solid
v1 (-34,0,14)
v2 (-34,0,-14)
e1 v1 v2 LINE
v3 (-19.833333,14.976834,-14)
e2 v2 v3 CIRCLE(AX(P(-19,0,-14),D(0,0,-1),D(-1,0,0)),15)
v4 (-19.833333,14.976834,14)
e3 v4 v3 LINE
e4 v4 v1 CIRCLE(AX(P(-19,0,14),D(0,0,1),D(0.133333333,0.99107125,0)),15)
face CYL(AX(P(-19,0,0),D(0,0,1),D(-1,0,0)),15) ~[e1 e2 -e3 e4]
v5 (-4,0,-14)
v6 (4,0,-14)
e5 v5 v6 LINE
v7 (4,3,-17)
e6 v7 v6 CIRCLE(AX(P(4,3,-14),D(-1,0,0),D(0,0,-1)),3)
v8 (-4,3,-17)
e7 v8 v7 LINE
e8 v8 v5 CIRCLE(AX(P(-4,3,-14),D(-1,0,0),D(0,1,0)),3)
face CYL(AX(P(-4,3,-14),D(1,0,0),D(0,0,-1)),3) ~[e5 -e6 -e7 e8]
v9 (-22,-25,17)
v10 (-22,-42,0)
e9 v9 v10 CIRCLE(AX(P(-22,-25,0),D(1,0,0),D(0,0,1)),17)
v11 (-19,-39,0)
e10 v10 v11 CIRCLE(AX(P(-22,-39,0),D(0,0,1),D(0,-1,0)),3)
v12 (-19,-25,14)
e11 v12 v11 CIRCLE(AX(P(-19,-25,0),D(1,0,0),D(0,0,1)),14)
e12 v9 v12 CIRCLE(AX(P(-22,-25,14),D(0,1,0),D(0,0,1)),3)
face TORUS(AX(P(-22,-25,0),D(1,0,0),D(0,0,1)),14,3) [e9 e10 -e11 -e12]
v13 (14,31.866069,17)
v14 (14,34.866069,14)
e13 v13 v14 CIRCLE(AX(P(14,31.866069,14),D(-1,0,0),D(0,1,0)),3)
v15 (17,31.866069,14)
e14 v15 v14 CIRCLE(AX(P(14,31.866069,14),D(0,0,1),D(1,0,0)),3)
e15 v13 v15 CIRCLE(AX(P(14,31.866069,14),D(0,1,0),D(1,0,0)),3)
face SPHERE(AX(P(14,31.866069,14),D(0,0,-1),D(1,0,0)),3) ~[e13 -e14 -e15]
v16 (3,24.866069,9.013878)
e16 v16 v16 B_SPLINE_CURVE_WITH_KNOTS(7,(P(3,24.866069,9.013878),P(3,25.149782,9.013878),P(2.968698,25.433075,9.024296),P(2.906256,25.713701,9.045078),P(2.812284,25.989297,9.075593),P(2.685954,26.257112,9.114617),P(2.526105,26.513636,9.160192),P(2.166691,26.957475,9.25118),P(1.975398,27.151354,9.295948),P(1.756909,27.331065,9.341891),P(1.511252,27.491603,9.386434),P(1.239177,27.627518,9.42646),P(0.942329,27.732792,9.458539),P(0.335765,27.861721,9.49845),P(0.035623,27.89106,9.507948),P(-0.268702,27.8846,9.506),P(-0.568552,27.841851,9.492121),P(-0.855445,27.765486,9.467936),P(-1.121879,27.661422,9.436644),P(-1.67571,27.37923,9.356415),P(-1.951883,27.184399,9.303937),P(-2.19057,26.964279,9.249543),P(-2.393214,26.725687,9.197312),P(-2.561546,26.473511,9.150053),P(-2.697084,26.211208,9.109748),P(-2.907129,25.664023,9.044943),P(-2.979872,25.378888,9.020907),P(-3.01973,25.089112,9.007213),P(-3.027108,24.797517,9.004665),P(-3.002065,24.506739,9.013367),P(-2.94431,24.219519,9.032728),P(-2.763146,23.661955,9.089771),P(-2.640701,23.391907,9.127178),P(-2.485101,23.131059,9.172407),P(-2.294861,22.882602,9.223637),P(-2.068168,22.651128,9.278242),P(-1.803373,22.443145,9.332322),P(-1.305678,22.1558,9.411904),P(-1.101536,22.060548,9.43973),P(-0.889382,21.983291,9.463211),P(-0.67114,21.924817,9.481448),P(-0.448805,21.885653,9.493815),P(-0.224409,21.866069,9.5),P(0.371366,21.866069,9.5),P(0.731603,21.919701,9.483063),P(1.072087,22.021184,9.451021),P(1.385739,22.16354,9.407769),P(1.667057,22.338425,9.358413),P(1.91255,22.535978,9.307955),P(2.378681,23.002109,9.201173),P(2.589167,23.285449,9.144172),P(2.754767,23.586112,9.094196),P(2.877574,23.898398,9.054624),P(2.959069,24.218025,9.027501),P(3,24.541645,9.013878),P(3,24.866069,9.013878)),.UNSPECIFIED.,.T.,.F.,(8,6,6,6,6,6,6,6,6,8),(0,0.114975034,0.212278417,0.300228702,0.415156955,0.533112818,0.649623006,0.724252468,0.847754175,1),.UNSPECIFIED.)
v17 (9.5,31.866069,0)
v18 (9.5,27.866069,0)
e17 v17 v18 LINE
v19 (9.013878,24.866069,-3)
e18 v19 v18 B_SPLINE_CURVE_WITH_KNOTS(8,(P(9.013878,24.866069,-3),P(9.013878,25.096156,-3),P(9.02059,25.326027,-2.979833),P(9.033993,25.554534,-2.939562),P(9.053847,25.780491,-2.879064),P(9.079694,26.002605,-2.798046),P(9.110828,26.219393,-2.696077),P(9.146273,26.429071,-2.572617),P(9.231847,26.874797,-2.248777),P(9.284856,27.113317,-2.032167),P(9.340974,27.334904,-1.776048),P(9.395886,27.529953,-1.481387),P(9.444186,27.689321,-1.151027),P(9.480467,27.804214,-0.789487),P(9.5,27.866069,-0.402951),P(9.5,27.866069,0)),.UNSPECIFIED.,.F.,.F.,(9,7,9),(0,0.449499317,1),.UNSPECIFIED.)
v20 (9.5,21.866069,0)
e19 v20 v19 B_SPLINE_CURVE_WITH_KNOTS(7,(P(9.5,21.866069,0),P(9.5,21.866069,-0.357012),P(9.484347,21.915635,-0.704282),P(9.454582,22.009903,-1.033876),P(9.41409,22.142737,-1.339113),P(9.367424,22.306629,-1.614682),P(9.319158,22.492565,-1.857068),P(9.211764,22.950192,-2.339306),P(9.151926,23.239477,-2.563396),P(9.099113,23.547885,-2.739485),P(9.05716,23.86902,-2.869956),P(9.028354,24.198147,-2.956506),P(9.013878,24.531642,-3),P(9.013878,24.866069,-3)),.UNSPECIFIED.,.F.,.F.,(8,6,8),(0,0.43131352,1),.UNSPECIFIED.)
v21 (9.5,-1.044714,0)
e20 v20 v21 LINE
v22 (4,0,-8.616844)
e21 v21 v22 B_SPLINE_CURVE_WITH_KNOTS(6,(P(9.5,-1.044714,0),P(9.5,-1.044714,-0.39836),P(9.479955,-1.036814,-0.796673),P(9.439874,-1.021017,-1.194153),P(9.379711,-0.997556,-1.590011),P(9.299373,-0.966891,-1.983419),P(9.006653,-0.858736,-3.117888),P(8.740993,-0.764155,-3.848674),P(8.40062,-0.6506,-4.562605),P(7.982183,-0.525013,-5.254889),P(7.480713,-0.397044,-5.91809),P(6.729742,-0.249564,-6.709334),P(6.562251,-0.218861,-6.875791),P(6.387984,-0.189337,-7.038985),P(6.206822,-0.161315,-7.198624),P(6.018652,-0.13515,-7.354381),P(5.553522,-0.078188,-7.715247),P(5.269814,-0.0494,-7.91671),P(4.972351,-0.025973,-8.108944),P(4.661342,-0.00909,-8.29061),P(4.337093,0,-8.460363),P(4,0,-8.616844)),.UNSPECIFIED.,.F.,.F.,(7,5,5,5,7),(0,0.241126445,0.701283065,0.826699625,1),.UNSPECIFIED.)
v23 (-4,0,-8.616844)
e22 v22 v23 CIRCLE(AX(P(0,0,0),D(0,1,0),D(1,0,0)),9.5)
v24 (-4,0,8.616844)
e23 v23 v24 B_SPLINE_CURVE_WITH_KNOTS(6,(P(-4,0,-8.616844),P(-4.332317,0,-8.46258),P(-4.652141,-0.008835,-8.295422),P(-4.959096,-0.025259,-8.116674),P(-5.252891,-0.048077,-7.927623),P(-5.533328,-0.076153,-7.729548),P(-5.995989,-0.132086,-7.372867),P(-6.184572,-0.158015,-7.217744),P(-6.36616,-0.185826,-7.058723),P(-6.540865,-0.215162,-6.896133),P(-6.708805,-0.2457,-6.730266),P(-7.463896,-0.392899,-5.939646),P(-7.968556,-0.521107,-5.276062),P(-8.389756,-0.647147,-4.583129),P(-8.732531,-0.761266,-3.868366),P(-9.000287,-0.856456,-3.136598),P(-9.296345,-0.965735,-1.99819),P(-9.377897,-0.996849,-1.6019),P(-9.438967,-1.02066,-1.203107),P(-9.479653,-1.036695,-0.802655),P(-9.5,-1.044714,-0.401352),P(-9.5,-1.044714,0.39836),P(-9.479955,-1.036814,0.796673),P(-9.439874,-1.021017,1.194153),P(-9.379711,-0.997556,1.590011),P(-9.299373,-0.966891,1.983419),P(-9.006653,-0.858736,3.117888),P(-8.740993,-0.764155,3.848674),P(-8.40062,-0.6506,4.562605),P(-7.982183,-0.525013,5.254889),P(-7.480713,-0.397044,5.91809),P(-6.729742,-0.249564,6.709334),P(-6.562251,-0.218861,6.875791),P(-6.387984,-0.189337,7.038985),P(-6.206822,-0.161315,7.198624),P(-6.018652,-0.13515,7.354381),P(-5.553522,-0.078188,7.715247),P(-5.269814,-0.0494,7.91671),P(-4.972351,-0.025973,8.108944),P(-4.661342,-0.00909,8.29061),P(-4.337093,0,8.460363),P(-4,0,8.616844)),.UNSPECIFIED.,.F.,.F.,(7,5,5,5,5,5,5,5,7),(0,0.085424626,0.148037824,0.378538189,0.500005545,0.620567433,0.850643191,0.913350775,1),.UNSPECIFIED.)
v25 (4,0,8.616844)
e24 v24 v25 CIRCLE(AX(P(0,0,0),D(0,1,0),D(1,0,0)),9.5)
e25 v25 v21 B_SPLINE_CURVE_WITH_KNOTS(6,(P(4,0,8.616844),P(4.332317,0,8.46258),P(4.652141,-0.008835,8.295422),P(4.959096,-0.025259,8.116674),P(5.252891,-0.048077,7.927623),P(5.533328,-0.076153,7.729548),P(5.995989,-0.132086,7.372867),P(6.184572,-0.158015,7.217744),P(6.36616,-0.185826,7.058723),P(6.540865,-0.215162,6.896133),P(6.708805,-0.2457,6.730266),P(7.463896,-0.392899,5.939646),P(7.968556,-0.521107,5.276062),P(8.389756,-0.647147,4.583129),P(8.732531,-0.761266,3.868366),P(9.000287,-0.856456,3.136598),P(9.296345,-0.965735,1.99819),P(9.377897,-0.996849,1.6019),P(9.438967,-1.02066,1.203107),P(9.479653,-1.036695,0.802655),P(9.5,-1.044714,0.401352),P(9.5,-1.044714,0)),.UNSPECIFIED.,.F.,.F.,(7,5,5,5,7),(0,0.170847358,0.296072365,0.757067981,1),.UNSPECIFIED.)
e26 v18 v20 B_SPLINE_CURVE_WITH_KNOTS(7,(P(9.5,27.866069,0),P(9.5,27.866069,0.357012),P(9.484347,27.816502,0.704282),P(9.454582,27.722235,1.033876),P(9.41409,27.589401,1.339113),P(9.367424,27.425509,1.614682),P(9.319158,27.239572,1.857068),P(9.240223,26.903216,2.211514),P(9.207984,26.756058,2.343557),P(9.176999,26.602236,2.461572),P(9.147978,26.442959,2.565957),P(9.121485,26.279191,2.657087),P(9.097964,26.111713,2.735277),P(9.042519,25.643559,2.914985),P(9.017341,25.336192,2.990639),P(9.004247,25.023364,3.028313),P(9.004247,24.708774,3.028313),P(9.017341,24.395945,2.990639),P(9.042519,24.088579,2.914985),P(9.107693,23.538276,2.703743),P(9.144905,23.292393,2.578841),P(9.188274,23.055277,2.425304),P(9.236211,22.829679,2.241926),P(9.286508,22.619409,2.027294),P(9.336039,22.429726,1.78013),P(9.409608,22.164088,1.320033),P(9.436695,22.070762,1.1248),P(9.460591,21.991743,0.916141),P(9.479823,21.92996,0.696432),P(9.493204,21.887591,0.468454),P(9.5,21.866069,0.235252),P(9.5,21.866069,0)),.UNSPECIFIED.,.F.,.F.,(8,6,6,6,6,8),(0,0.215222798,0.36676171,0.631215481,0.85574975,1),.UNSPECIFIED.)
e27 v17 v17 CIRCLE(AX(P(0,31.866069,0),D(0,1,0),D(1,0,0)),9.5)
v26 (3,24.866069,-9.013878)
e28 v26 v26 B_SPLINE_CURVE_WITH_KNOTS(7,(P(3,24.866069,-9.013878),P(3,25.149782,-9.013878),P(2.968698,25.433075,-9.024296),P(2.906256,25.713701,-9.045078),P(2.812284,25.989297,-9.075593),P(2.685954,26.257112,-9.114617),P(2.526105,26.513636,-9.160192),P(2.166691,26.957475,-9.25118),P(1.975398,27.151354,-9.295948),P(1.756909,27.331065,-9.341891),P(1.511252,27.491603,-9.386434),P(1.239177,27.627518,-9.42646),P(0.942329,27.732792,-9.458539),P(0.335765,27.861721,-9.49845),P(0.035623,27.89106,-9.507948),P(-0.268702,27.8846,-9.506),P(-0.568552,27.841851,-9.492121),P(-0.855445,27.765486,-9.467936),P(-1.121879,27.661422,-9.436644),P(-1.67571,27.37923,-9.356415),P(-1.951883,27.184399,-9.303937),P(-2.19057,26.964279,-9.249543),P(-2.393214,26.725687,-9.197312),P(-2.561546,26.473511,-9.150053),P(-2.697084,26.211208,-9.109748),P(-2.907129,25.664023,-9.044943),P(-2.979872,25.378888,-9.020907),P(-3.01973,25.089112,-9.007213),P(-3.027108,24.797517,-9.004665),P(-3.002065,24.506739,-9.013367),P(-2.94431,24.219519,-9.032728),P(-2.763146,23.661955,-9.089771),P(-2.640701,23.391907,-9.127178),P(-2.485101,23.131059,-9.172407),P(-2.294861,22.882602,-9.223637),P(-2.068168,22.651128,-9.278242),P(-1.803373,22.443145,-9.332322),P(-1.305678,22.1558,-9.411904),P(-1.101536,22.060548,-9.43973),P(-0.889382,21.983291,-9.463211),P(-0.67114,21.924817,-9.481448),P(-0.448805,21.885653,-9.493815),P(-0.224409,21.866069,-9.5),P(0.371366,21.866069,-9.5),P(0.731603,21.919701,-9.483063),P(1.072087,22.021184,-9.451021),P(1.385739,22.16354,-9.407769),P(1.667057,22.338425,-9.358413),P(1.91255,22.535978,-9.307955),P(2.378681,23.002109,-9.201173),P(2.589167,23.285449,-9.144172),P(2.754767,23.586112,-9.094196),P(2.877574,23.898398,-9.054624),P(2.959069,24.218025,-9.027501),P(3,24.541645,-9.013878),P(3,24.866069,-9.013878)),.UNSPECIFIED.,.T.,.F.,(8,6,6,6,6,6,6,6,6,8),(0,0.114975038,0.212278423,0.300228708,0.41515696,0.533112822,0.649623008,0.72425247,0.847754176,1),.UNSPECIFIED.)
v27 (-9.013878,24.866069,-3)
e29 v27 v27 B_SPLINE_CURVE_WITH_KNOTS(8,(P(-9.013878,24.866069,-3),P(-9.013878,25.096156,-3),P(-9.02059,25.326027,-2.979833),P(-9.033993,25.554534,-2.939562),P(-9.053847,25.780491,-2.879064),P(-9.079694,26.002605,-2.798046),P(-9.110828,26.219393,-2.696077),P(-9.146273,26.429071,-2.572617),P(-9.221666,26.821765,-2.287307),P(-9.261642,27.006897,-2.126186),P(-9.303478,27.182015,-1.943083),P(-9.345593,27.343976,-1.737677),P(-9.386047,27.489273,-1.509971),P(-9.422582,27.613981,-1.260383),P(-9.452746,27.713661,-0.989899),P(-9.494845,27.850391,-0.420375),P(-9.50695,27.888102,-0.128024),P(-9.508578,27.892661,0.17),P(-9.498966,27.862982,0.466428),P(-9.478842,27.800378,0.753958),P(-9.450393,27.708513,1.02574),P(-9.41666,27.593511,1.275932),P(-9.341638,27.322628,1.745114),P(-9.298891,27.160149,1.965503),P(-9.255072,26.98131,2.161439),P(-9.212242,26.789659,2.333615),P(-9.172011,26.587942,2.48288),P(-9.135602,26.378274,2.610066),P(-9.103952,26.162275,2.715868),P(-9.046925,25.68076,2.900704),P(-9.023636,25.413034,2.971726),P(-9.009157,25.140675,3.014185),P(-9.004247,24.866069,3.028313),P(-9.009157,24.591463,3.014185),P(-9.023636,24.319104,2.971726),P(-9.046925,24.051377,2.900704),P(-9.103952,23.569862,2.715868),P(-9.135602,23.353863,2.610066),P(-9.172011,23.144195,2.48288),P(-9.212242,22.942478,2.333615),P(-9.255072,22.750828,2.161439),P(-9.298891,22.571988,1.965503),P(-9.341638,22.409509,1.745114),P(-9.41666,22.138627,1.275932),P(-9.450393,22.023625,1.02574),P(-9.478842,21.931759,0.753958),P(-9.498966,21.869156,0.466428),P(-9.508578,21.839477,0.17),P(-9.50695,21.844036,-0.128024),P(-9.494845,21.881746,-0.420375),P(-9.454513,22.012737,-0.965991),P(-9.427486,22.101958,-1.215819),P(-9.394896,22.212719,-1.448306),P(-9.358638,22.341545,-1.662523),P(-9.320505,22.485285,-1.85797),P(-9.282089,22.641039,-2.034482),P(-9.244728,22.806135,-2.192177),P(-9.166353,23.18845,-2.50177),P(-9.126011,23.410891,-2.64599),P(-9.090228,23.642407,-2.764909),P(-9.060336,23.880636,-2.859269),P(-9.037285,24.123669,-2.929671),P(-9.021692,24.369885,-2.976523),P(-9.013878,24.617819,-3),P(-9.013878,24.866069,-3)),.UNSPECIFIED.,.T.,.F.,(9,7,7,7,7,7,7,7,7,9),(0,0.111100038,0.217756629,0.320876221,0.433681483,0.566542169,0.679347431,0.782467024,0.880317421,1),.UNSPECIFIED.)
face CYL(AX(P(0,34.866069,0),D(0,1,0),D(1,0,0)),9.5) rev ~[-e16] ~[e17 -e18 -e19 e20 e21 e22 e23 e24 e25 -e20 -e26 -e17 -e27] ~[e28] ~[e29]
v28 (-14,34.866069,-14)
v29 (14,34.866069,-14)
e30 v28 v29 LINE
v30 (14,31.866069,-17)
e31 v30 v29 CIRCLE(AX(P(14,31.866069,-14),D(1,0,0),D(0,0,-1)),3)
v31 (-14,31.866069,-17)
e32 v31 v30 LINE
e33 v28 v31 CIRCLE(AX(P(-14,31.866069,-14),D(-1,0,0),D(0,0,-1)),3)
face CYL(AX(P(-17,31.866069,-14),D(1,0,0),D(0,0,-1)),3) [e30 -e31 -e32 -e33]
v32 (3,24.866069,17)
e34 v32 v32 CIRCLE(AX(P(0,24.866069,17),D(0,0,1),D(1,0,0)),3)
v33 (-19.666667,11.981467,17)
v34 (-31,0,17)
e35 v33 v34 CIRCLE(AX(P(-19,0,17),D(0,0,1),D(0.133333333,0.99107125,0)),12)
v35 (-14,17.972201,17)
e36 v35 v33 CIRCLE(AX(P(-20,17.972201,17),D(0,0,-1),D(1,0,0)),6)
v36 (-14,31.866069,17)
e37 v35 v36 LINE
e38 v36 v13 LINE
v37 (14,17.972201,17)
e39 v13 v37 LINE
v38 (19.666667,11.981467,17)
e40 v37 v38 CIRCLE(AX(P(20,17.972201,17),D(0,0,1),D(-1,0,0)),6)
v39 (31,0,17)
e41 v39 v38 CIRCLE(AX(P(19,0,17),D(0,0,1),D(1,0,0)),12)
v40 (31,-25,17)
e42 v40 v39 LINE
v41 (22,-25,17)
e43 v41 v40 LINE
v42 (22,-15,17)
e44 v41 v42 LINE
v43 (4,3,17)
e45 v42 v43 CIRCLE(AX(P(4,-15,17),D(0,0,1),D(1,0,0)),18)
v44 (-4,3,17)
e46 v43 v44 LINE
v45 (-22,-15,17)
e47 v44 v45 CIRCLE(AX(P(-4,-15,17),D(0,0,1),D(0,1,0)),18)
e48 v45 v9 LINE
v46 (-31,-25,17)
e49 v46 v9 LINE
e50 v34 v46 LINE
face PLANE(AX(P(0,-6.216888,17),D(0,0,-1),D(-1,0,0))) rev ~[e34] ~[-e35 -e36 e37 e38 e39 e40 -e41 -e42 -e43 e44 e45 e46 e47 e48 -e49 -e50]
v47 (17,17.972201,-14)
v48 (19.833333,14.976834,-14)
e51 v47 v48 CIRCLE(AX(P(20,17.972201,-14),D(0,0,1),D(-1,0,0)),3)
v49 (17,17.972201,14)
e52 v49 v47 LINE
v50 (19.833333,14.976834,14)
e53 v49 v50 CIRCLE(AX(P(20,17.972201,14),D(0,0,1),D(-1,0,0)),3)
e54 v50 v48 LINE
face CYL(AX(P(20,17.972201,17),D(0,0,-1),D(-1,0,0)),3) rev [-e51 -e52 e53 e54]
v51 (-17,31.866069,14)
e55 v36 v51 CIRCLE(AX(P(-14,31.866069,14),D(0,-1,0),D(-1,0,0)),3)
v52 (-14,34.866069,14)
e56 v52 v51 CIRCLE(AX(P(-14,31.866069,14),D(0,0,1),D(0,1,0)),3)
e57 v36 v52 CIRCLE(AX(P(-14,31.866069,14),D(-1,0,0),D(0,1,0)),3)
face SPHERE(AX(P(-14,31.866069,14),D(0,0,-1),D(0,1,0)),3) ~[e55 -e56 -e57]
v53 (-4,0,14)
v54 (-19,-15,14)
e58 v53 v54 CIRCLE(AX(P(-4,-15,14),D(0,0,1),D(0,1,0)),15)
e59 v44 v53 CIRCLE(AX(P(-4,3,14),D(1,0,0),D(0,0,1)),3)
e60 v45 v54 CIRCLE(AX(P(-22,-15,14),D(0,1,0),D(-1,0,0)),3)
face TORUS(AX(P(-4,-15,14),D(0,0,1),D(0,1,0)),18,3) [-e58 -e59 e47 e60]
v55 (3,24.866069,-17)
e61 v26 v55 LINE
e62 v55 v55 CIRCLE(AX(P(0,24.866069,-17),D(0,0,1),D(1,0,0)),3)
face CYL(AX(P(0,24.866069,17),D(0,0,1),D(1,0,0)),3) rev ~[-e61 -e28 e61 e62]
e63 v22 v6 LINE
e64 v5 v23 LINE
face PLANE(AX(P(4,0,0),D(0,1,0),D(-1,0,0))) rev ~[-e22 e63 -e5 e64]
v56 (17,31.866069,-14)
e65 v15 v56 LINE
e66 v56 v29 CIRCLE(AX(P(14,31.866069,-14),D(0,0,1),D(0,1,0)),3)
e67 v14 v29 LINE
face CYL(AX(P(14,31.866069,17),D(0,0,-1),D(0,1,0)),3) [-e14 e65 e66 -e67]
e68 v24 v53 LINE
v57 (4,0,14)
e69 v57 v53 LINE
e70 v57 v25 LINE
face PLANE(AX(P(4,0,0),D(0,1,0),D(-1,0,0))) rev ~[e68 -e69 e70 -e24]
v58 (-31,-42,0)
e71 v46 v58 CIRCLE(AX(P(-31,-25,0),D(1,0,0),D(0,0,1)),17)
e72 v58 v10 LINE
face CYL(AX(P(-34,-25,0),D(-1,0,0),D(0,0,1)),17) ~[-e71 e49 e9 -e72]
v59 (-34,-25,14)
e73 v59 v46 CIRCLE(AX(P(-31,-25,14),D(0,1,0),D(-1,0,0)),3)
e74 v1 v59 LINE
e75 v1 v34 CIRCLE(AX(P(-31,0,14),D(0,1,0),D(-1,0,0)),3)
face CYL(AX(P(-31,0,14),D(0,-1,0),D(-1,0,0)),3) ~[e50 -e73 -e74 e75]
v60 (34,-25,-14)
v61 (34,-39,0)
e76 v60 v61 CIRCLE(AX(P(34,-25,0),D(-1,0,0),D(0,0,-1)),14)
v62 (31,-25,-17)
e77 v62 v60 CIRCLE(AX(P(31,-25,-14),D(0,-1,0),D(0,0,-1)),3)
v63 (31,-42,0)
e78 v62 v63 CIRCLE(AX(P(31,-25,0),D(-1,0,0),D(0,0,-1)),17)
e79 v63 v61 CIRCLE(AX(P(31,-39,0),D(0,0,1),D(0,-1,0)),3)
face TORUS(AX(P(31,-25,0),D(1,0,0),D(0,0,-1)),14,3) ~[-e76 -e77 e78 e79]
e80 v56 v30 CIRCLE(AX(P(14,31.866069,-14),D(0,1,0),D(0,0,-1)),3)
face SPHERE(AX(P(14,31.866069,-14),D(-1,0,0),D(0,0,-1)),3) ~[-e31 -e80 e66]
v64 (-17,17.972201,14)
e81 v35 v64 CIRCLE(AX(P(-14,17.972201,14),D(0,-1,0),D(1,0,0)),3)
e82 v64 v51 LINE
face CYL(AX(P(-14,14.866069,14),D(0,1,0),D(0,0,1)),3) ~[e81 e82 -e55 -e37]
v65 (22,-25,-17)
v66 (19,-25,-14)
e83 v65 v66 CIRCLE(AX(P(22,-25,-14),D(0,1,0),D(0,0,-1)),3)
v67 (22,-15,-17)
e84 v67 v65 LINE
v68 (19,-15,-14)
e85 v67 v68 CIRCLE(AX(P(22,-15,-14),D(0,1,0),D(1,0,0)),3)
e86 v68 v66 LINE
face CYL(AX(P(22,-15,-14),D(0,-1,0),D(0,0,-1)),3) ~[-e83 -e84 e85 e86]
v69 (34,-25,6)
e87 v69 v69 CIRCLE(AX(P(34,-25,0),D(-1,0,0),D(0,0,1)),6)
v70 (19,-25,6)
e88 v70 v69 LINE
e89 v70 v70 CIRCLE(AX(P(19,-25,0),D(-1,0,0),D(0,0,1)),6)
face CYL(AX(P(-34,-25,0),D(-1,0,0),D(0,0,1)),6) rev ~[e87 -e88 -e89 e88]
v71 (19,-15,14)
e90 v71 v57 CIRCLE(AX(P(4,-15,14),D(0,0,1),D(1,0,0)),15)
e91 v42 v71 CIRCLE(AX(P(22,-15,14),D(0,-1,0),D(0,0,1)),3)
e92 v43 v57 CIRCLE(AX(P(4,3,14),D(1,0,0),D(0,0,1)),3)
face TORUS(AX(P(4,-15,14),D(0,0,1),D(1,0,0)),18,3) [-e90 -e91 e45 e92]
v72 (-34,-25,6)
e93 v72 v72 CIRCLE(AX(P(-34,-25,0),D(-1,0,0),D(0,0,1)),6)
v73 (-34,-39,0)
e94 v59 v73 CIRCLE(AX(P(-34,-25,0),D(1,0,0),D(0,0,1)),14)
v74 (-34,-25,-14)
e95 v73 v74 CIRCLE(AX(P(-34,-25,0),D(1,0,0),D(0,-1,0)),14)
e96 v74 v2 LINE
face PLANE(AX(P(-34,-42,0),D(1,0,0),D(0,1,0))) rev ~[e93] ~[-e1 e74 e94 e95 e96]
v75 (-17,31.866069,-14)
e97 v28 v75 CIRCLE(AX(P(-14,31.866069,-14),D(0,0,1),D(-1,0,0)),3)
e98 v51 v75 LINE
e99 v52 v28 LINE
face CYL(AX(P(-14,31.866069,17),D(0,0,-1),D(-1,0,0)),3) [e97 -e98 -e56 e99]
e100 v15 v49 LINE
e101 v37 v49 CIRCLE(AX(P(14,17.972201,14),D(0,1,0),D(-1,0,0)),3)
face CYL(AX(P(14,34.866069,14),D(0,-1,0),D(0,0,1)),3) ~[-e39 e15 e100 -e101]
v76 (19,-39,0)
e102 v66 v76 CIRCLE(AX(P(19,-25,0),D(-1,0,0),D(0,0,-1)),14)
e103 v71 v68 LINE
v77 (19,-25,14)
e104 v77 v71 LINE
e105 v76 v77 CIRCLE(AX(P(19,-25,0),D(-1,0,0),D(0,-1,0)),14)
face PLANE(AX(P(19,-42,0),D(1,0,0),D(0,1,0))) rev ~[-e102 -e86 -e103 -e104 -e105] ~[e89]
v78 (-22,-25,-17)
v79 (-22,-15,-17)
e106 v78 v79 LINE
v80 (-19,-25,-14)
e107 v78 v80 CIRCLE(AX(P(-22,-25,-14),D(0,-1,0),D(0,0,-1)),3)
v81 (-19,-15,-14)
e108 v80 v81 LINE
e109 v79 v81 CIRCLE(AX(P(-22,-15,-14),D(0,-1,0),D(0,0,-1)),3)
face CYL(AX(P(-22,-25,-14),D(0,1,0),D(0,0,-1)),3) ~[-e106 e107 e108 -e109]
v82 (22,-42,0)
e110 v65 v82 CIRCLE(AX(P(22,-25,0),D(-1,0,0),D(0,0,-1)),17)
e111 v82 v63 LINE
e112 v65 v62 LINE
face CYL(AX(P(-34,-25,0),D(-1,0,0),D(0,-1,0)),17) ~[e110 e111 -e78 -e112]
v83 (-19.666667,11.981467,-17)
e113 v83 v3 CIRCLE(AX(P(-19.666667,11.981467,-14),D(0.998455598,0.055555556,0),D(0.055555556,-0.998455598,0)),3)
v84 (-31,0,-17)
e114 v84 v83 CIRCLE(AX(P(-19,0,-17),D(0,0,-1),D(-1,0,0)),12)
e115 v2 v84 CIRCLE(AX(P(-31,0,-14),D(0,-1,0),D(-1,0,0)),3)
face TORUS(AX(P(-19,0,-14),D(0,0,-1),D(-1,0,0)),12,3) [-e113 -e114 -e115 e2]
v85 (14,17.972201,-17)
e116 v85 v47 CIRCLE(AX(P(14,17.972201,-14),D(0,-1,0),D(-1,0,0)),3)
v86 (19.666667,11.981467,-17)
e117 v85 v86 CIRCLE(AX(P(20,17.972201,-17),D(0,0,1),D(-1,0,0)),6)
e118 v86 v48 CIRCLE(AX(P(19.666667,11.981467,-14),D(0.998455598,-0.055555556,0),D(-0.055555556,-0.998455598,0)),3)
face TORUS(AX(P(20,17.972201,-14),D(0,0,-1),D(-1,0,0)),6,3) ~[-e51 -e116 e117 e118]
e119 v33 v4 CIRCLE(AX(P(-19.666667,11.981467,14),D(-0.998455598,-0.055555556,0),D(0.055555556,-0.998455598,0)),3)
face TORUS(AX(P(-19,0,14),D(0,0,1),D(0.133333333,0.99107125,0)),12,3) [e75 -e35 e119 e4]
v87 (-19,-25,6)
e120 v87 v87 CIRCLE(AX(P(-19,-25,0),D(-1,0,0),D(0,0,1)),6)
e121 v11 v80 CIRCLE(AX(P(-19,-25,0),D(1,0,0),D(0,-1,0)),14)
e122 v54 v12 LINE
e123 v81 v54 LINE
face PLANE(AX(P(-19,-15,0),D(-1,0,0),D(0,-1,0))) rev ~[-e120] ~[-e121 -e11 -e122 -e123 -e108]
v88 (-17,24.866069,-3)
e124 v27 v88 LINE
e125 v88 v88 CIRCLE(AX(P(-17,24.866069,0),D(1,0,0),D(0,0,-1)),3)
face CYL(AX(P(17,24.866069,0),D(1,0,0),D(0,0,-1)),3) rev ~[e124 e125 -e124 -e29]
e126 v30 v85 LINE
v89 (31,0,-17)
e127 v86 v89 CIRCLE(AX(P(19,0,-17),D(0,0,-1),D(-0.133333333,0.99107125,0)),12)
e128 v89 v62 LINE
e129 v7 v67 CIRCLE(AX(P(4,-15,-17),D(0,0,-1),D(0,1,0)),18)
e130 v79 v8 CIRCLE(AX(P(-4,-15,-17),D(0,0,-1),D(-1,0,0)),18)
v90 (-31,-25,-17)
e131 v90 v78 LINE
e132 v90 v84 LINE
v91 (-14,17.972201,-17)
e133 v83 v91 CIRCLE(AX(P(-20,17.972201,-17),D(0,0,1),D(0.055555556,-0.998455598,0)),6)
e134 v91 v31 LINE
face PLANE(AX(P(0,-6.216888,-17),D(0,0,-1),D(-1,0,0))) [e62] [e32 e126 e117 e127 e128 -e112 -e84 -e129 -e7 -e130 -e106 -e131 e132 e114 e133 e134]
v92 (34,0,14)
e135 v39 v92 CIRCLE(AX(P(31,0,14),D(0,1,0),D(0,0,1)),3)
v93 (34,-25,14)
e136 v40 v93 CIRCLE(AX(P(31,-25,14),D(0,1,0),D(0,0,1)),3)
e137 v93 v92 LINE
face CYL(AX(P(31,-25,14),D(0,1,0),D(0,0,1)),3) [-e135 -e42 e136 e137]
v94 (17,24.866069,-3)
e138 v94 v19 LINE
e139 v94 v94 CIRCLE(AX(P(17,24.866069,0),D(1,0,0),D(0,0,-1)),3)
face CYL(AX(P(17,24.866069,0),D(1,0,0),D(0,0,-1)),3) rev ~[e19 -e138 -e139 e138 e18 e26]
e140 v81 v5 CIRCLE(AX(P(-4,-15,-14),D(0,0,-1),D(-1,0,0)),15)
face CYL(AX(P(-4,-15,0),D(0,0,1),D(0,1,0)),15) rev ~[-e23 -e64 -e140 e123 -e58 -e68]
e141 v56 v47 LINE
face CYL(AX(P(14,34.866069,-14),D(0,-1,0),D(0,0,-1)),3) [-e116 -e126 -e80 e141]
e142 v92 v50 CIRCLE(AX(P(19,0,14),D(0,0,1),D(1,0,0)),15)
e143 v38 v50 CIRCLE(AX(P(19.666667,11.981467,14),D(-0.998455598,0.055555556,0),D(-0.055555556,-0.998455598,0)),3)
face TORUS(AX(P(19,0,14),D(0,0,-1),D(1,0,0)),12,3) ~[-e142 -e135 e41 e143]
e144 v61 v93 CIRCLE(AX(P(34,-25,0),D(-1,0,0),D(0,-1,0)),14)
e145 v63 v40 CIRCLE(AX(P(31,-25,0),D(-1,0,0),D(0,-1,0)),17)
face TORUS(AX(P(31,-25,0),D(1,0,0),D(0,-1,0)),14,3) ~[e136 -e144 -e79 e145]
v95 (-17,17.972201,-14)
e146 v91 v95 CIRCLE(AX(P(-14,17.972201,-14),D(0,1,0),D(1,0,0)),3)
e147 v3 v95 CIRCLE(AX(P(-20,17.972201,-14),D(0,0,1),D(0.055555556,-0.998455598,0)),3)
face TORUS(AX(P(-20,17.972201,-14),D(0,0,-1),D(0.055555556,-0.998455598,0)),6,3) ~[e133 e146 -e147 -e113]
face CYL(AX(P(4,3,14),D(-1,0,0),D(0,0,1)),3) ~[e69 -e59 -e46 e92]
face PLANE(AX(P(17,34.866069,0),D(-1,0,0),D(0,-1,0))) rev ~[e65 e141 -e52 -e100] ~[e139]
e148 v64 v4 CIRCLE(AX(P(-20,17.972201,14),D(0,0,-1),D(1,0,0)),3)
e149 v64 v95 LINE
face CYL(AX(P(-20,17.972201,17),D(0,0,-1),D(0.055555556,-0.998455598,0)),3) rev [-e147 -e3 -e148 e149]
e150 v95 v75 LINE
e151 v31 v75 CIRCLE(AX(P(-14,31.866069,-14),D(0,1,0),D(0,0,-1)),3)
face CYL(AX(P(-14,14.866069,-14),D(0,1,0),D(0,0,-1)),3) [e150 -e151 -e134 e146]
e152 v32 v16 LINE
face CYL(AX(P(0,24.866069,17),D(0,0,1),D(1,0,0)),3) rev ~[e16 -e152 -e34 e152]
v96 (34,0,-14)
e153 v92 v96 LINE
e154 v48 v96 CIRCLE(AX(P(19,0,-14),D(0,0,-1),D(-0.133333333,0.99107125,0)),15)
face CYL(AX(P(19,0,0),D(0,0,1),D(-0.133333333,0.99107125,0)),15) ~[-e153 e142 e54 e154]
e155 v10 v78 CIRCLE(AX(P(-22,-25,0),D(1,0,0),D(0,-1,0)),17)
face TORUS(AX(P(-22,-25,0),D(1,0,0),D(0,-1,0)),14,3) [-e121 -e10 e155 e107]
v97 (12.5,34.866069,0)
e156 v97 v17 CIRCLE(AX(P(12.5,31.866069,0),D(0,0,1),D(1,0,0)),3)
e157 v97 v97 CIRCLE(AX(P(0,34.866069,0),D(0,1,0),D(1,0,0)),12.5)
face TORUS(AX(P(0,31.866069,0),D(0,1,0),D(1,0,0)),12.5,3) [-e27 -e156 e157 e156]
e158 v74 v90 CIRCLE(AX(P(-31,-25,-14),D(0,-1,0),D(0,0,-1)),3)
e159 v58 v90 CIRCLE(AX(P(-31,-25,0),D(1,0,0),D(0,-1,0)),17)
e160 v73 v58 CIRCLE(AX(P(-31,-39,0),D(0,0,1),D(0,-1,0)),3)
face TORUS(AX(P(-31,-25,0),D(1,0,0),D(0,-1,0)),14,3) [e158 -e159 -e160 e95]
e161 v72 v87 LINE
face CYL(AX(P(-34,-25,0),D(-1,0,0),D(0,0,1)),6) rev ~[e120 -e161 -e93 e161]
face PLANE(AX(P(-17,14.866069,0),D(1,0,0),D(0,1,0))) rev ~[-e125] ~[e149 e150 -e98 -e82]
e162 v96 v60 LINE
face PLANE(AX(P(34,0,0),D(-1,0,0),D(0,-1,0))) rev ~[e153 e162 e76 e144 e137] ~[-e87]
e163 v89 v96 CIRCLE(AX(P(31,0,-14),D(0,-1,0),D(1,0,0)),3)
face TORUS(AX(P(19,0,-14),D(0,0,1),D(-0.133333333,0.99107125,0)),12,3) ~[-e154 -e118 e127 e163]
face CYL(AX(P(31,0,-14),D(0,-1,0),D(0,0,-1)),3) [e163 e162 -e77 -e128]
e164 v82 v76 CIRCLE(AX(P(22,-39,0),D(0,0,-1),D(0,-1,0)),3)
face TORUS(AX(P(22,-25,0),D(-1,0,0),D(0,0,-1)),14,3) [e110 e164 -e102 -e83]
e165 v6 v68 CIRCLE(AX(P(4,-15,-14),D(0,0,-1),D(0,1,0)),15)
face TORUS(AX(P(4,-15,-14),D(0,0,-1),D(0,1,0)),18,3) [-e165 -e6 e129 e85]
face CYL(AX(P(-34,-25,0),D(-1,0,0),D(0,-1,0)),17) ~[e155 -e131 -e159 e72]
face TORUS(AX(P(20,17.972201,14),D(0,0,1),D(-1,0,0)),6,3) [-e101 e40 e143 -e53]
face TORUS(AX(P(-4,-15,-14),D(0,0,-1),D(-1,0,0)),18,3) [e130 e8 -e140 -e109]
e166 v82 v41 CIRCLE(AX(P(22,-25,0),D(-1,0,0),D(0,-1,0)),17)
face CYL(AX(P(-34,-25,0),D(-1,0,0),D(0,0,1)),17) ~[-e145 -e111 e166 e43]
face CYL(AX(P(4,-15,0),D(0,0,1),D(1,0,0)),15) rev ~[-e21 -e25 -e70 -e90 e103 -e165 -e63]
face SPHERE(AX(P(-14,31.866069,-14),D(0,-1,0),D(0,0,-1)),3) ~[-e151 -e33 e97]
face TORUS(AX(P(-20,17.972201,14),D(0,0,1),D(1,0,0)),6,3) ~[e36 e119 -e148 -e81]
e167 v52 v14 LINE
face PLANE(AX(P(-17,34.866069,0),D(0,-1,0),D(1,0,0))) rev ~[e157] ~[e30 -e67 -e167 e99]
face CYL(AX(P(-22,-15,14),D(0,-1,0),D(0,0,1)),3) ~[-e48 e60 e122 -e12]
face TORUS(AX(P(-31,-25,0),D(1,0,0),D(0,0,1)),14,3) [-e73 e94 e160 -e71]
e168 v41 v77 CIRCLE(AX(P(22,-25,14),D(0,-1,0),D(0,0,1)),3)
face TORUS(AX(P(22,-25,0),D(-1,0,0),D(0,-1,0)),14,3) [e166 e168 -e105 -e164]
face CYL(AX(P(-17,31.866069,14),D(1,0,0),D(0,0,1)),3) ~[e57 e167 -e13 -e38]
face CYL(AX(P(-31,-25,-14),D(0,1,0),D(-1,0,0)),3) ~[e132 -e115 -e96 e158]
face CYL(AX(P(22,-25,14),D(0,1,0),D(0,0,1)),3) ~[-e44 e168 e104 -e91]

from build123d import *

# Parameters (mm, degrees)
Y_KSEKLIK_EKSTR_ZYON2_DEPTH = 17
IZIM2_R                     = 9.5
KES_EKSTR_ZYON1_DEPTH       = 77.866068747
KES_EKSTR_ZYON2_DEPTH       = 69
IZIM4_R                     = 6
KES_EKSTR_ZYON3_DEPTH       = 69
IZIM5_R                     = 3
KES_EKSTR_ZYON4_DEPTH       = 52
IZIM6_R                     = 3
KES_EKSTR_ZYON5_DEPTH       = 35.0000001
RADYUS1_R                   = 3


with BuildPart() as part:
    # Çizim1 → Yükseklik-Ekstrüzyon2 (new body, symmetric)
    with BuildSketch(Plane.XY):
        with BuildLine():
            Line((-19, -42), (-34, -42))
            Line((-34, -42), (-34, 0))
            ThreePointArc((-34, 0), (-28.874208829, 11.291589791), (-17, 14.866068747))
            Line((-17, 14.866068747), (-17, 34.866068747))
            Line((-17, 34.866068747), (17, 34.866068747))
            Line((17, 34.866068747), (17, 14.866068747))
            ThreePointArc((17, 14.866068747), (28.874208829, 11.291589791), (34, 0))
            Line((34, 0), (34, -42))
            Line((34, -42), (19, -42))
            Line((19, -42), (19, -15))
            ThreePointArc((19, -15), (14.606601718, -4.393398282), (4, 0))
            Line((4, 0), (-4, 0))
            ThreePointArc((-4, 0), (-14.606601718, -4.393398282), (-19, -15))
            Line((-19, -15), (-19, -42))
        make_face()
    extrude(amount=Y_KSEKLIK_EKSTR_ZYON2_DEPTH, both=True)

    # Çizim2 → Kes-Ekstrüzyon1 (cut, through all)
    with BuildSketch(Plane(origin=(0, 34.866068747, 0), x_dir=(1, 0, 0), z_dir=(0, 1, 0))):
        Circle(IZIM2_R)
    extrude(amount=-KES_EKSTR_ZYON1_DEPTH, mode=Mode.SUBTRACT)

    # Çizim3 → Kes-Ekstrüzyon2 (cut, through all)
    with BuildSketch(Plane.ZY.offset(34)):
        with BuildLine():
            ThreePointArc((0, -42), (-12.02081528, -37.02081528), (-17, -25))
            Line((-17, -25), (-17, -42))
            Line((-17, -42), (0, -42))
        make_face()
        with BuildLine():
            Line((17, -42), (17, -25))
            ThreePointArc((17, -25), (12.02081528, -37.02081528), (0, -42))
            Line((0, -42), (17, -42))
        make_face()
    extrude(amount=-KES_EKSTR_ZYON2_DEPTH, mode=Mode.SUBTRACT)

    # Çizim4 → Kes-Ekstrüzyon3 (cut, through all)
    with BuildSketch(Plane.ZY.offset(34)):
        with Locations((0, -25)):
            Circle(IZIM4_R)
    extrude(amount=-KES_EKSTR_ZYON3_DEPTH, mode=Mode.SUBTRACT)

    # Çizim5 → Kes-Ekstrüzyon4 (cut, through all)
    with BuildSketch(Plane(origin=(17, 0, 0), x_dir=(0, 0, -1), z_dir=(1, 0, 0))):
        with Locations((0, 24.866068747)):
            Circle(IZIM5_R)
    extrude(amount=-KES_EKSTR_ZYON4_DEPTH, mode=Mode.SUBTRACT)

    # Çizim6 → Kes-Ekstrüzyon5 (cut, through all)
    with BuildSketch(Plane.XY.offset(17)):
        with Locations((0, 24.866068747)):
            Circle(IZIM6_R)
    extrude(amount=-KES_EKSTR_ZYON5_DEPTH, mode=Mode.SUBTRACT)

    # Radyus1
    radyus1_edges = [part.edges().sort_by_distance(p)[0] for p in [
        (0, 0, 17),
        (-34, -12.5, -17),
        (-28.874208829, 11.291589791, -17),
        (-17, 24.866068747, -17),
        (0, 34.866068747, -17),
        (17, 24.866068747, -17),
        (28.874208829, 11.291589791, -17),
        (14.606601718, -4.393398282, 17),
        (19, -20, -17),
        (14.606601718, -4.393398282, -17),
        (0, 0, -17),
        (-14.606601718, -4.393398282, -17),
        (19, -20, 17),
        (-17, 14.866068747, 0),
        (-17, 34.866068747, 0),
        (17, 34.866068747, 0),
        (17, 14.866068747, 0),
        (28.874208829, 11.291589791, 17),
        (17, 24.866068747, 17),
        (0, 34.866068747, 17),
        (-17, 24.866068747, 17),
        (-9.5, 34.866068747, 0),
        (-28.874208829, 11.291589791, 17),
        (-19, -20, -17),
        (34, -12.5, -17),
        (-34, -12.5, 17),
        (-34, -42, 0),
        (-19, -42, 0),
        (19, -42, 0),
        (34, -42, 0),
        (-19, -20, 17),
        (34, -12.5, 17),
        (-14.606601718, -4.393398282, 17),
    ]]
    fillet(radyus1_edges, radius=RADYUS1_R)


solid = part.part
